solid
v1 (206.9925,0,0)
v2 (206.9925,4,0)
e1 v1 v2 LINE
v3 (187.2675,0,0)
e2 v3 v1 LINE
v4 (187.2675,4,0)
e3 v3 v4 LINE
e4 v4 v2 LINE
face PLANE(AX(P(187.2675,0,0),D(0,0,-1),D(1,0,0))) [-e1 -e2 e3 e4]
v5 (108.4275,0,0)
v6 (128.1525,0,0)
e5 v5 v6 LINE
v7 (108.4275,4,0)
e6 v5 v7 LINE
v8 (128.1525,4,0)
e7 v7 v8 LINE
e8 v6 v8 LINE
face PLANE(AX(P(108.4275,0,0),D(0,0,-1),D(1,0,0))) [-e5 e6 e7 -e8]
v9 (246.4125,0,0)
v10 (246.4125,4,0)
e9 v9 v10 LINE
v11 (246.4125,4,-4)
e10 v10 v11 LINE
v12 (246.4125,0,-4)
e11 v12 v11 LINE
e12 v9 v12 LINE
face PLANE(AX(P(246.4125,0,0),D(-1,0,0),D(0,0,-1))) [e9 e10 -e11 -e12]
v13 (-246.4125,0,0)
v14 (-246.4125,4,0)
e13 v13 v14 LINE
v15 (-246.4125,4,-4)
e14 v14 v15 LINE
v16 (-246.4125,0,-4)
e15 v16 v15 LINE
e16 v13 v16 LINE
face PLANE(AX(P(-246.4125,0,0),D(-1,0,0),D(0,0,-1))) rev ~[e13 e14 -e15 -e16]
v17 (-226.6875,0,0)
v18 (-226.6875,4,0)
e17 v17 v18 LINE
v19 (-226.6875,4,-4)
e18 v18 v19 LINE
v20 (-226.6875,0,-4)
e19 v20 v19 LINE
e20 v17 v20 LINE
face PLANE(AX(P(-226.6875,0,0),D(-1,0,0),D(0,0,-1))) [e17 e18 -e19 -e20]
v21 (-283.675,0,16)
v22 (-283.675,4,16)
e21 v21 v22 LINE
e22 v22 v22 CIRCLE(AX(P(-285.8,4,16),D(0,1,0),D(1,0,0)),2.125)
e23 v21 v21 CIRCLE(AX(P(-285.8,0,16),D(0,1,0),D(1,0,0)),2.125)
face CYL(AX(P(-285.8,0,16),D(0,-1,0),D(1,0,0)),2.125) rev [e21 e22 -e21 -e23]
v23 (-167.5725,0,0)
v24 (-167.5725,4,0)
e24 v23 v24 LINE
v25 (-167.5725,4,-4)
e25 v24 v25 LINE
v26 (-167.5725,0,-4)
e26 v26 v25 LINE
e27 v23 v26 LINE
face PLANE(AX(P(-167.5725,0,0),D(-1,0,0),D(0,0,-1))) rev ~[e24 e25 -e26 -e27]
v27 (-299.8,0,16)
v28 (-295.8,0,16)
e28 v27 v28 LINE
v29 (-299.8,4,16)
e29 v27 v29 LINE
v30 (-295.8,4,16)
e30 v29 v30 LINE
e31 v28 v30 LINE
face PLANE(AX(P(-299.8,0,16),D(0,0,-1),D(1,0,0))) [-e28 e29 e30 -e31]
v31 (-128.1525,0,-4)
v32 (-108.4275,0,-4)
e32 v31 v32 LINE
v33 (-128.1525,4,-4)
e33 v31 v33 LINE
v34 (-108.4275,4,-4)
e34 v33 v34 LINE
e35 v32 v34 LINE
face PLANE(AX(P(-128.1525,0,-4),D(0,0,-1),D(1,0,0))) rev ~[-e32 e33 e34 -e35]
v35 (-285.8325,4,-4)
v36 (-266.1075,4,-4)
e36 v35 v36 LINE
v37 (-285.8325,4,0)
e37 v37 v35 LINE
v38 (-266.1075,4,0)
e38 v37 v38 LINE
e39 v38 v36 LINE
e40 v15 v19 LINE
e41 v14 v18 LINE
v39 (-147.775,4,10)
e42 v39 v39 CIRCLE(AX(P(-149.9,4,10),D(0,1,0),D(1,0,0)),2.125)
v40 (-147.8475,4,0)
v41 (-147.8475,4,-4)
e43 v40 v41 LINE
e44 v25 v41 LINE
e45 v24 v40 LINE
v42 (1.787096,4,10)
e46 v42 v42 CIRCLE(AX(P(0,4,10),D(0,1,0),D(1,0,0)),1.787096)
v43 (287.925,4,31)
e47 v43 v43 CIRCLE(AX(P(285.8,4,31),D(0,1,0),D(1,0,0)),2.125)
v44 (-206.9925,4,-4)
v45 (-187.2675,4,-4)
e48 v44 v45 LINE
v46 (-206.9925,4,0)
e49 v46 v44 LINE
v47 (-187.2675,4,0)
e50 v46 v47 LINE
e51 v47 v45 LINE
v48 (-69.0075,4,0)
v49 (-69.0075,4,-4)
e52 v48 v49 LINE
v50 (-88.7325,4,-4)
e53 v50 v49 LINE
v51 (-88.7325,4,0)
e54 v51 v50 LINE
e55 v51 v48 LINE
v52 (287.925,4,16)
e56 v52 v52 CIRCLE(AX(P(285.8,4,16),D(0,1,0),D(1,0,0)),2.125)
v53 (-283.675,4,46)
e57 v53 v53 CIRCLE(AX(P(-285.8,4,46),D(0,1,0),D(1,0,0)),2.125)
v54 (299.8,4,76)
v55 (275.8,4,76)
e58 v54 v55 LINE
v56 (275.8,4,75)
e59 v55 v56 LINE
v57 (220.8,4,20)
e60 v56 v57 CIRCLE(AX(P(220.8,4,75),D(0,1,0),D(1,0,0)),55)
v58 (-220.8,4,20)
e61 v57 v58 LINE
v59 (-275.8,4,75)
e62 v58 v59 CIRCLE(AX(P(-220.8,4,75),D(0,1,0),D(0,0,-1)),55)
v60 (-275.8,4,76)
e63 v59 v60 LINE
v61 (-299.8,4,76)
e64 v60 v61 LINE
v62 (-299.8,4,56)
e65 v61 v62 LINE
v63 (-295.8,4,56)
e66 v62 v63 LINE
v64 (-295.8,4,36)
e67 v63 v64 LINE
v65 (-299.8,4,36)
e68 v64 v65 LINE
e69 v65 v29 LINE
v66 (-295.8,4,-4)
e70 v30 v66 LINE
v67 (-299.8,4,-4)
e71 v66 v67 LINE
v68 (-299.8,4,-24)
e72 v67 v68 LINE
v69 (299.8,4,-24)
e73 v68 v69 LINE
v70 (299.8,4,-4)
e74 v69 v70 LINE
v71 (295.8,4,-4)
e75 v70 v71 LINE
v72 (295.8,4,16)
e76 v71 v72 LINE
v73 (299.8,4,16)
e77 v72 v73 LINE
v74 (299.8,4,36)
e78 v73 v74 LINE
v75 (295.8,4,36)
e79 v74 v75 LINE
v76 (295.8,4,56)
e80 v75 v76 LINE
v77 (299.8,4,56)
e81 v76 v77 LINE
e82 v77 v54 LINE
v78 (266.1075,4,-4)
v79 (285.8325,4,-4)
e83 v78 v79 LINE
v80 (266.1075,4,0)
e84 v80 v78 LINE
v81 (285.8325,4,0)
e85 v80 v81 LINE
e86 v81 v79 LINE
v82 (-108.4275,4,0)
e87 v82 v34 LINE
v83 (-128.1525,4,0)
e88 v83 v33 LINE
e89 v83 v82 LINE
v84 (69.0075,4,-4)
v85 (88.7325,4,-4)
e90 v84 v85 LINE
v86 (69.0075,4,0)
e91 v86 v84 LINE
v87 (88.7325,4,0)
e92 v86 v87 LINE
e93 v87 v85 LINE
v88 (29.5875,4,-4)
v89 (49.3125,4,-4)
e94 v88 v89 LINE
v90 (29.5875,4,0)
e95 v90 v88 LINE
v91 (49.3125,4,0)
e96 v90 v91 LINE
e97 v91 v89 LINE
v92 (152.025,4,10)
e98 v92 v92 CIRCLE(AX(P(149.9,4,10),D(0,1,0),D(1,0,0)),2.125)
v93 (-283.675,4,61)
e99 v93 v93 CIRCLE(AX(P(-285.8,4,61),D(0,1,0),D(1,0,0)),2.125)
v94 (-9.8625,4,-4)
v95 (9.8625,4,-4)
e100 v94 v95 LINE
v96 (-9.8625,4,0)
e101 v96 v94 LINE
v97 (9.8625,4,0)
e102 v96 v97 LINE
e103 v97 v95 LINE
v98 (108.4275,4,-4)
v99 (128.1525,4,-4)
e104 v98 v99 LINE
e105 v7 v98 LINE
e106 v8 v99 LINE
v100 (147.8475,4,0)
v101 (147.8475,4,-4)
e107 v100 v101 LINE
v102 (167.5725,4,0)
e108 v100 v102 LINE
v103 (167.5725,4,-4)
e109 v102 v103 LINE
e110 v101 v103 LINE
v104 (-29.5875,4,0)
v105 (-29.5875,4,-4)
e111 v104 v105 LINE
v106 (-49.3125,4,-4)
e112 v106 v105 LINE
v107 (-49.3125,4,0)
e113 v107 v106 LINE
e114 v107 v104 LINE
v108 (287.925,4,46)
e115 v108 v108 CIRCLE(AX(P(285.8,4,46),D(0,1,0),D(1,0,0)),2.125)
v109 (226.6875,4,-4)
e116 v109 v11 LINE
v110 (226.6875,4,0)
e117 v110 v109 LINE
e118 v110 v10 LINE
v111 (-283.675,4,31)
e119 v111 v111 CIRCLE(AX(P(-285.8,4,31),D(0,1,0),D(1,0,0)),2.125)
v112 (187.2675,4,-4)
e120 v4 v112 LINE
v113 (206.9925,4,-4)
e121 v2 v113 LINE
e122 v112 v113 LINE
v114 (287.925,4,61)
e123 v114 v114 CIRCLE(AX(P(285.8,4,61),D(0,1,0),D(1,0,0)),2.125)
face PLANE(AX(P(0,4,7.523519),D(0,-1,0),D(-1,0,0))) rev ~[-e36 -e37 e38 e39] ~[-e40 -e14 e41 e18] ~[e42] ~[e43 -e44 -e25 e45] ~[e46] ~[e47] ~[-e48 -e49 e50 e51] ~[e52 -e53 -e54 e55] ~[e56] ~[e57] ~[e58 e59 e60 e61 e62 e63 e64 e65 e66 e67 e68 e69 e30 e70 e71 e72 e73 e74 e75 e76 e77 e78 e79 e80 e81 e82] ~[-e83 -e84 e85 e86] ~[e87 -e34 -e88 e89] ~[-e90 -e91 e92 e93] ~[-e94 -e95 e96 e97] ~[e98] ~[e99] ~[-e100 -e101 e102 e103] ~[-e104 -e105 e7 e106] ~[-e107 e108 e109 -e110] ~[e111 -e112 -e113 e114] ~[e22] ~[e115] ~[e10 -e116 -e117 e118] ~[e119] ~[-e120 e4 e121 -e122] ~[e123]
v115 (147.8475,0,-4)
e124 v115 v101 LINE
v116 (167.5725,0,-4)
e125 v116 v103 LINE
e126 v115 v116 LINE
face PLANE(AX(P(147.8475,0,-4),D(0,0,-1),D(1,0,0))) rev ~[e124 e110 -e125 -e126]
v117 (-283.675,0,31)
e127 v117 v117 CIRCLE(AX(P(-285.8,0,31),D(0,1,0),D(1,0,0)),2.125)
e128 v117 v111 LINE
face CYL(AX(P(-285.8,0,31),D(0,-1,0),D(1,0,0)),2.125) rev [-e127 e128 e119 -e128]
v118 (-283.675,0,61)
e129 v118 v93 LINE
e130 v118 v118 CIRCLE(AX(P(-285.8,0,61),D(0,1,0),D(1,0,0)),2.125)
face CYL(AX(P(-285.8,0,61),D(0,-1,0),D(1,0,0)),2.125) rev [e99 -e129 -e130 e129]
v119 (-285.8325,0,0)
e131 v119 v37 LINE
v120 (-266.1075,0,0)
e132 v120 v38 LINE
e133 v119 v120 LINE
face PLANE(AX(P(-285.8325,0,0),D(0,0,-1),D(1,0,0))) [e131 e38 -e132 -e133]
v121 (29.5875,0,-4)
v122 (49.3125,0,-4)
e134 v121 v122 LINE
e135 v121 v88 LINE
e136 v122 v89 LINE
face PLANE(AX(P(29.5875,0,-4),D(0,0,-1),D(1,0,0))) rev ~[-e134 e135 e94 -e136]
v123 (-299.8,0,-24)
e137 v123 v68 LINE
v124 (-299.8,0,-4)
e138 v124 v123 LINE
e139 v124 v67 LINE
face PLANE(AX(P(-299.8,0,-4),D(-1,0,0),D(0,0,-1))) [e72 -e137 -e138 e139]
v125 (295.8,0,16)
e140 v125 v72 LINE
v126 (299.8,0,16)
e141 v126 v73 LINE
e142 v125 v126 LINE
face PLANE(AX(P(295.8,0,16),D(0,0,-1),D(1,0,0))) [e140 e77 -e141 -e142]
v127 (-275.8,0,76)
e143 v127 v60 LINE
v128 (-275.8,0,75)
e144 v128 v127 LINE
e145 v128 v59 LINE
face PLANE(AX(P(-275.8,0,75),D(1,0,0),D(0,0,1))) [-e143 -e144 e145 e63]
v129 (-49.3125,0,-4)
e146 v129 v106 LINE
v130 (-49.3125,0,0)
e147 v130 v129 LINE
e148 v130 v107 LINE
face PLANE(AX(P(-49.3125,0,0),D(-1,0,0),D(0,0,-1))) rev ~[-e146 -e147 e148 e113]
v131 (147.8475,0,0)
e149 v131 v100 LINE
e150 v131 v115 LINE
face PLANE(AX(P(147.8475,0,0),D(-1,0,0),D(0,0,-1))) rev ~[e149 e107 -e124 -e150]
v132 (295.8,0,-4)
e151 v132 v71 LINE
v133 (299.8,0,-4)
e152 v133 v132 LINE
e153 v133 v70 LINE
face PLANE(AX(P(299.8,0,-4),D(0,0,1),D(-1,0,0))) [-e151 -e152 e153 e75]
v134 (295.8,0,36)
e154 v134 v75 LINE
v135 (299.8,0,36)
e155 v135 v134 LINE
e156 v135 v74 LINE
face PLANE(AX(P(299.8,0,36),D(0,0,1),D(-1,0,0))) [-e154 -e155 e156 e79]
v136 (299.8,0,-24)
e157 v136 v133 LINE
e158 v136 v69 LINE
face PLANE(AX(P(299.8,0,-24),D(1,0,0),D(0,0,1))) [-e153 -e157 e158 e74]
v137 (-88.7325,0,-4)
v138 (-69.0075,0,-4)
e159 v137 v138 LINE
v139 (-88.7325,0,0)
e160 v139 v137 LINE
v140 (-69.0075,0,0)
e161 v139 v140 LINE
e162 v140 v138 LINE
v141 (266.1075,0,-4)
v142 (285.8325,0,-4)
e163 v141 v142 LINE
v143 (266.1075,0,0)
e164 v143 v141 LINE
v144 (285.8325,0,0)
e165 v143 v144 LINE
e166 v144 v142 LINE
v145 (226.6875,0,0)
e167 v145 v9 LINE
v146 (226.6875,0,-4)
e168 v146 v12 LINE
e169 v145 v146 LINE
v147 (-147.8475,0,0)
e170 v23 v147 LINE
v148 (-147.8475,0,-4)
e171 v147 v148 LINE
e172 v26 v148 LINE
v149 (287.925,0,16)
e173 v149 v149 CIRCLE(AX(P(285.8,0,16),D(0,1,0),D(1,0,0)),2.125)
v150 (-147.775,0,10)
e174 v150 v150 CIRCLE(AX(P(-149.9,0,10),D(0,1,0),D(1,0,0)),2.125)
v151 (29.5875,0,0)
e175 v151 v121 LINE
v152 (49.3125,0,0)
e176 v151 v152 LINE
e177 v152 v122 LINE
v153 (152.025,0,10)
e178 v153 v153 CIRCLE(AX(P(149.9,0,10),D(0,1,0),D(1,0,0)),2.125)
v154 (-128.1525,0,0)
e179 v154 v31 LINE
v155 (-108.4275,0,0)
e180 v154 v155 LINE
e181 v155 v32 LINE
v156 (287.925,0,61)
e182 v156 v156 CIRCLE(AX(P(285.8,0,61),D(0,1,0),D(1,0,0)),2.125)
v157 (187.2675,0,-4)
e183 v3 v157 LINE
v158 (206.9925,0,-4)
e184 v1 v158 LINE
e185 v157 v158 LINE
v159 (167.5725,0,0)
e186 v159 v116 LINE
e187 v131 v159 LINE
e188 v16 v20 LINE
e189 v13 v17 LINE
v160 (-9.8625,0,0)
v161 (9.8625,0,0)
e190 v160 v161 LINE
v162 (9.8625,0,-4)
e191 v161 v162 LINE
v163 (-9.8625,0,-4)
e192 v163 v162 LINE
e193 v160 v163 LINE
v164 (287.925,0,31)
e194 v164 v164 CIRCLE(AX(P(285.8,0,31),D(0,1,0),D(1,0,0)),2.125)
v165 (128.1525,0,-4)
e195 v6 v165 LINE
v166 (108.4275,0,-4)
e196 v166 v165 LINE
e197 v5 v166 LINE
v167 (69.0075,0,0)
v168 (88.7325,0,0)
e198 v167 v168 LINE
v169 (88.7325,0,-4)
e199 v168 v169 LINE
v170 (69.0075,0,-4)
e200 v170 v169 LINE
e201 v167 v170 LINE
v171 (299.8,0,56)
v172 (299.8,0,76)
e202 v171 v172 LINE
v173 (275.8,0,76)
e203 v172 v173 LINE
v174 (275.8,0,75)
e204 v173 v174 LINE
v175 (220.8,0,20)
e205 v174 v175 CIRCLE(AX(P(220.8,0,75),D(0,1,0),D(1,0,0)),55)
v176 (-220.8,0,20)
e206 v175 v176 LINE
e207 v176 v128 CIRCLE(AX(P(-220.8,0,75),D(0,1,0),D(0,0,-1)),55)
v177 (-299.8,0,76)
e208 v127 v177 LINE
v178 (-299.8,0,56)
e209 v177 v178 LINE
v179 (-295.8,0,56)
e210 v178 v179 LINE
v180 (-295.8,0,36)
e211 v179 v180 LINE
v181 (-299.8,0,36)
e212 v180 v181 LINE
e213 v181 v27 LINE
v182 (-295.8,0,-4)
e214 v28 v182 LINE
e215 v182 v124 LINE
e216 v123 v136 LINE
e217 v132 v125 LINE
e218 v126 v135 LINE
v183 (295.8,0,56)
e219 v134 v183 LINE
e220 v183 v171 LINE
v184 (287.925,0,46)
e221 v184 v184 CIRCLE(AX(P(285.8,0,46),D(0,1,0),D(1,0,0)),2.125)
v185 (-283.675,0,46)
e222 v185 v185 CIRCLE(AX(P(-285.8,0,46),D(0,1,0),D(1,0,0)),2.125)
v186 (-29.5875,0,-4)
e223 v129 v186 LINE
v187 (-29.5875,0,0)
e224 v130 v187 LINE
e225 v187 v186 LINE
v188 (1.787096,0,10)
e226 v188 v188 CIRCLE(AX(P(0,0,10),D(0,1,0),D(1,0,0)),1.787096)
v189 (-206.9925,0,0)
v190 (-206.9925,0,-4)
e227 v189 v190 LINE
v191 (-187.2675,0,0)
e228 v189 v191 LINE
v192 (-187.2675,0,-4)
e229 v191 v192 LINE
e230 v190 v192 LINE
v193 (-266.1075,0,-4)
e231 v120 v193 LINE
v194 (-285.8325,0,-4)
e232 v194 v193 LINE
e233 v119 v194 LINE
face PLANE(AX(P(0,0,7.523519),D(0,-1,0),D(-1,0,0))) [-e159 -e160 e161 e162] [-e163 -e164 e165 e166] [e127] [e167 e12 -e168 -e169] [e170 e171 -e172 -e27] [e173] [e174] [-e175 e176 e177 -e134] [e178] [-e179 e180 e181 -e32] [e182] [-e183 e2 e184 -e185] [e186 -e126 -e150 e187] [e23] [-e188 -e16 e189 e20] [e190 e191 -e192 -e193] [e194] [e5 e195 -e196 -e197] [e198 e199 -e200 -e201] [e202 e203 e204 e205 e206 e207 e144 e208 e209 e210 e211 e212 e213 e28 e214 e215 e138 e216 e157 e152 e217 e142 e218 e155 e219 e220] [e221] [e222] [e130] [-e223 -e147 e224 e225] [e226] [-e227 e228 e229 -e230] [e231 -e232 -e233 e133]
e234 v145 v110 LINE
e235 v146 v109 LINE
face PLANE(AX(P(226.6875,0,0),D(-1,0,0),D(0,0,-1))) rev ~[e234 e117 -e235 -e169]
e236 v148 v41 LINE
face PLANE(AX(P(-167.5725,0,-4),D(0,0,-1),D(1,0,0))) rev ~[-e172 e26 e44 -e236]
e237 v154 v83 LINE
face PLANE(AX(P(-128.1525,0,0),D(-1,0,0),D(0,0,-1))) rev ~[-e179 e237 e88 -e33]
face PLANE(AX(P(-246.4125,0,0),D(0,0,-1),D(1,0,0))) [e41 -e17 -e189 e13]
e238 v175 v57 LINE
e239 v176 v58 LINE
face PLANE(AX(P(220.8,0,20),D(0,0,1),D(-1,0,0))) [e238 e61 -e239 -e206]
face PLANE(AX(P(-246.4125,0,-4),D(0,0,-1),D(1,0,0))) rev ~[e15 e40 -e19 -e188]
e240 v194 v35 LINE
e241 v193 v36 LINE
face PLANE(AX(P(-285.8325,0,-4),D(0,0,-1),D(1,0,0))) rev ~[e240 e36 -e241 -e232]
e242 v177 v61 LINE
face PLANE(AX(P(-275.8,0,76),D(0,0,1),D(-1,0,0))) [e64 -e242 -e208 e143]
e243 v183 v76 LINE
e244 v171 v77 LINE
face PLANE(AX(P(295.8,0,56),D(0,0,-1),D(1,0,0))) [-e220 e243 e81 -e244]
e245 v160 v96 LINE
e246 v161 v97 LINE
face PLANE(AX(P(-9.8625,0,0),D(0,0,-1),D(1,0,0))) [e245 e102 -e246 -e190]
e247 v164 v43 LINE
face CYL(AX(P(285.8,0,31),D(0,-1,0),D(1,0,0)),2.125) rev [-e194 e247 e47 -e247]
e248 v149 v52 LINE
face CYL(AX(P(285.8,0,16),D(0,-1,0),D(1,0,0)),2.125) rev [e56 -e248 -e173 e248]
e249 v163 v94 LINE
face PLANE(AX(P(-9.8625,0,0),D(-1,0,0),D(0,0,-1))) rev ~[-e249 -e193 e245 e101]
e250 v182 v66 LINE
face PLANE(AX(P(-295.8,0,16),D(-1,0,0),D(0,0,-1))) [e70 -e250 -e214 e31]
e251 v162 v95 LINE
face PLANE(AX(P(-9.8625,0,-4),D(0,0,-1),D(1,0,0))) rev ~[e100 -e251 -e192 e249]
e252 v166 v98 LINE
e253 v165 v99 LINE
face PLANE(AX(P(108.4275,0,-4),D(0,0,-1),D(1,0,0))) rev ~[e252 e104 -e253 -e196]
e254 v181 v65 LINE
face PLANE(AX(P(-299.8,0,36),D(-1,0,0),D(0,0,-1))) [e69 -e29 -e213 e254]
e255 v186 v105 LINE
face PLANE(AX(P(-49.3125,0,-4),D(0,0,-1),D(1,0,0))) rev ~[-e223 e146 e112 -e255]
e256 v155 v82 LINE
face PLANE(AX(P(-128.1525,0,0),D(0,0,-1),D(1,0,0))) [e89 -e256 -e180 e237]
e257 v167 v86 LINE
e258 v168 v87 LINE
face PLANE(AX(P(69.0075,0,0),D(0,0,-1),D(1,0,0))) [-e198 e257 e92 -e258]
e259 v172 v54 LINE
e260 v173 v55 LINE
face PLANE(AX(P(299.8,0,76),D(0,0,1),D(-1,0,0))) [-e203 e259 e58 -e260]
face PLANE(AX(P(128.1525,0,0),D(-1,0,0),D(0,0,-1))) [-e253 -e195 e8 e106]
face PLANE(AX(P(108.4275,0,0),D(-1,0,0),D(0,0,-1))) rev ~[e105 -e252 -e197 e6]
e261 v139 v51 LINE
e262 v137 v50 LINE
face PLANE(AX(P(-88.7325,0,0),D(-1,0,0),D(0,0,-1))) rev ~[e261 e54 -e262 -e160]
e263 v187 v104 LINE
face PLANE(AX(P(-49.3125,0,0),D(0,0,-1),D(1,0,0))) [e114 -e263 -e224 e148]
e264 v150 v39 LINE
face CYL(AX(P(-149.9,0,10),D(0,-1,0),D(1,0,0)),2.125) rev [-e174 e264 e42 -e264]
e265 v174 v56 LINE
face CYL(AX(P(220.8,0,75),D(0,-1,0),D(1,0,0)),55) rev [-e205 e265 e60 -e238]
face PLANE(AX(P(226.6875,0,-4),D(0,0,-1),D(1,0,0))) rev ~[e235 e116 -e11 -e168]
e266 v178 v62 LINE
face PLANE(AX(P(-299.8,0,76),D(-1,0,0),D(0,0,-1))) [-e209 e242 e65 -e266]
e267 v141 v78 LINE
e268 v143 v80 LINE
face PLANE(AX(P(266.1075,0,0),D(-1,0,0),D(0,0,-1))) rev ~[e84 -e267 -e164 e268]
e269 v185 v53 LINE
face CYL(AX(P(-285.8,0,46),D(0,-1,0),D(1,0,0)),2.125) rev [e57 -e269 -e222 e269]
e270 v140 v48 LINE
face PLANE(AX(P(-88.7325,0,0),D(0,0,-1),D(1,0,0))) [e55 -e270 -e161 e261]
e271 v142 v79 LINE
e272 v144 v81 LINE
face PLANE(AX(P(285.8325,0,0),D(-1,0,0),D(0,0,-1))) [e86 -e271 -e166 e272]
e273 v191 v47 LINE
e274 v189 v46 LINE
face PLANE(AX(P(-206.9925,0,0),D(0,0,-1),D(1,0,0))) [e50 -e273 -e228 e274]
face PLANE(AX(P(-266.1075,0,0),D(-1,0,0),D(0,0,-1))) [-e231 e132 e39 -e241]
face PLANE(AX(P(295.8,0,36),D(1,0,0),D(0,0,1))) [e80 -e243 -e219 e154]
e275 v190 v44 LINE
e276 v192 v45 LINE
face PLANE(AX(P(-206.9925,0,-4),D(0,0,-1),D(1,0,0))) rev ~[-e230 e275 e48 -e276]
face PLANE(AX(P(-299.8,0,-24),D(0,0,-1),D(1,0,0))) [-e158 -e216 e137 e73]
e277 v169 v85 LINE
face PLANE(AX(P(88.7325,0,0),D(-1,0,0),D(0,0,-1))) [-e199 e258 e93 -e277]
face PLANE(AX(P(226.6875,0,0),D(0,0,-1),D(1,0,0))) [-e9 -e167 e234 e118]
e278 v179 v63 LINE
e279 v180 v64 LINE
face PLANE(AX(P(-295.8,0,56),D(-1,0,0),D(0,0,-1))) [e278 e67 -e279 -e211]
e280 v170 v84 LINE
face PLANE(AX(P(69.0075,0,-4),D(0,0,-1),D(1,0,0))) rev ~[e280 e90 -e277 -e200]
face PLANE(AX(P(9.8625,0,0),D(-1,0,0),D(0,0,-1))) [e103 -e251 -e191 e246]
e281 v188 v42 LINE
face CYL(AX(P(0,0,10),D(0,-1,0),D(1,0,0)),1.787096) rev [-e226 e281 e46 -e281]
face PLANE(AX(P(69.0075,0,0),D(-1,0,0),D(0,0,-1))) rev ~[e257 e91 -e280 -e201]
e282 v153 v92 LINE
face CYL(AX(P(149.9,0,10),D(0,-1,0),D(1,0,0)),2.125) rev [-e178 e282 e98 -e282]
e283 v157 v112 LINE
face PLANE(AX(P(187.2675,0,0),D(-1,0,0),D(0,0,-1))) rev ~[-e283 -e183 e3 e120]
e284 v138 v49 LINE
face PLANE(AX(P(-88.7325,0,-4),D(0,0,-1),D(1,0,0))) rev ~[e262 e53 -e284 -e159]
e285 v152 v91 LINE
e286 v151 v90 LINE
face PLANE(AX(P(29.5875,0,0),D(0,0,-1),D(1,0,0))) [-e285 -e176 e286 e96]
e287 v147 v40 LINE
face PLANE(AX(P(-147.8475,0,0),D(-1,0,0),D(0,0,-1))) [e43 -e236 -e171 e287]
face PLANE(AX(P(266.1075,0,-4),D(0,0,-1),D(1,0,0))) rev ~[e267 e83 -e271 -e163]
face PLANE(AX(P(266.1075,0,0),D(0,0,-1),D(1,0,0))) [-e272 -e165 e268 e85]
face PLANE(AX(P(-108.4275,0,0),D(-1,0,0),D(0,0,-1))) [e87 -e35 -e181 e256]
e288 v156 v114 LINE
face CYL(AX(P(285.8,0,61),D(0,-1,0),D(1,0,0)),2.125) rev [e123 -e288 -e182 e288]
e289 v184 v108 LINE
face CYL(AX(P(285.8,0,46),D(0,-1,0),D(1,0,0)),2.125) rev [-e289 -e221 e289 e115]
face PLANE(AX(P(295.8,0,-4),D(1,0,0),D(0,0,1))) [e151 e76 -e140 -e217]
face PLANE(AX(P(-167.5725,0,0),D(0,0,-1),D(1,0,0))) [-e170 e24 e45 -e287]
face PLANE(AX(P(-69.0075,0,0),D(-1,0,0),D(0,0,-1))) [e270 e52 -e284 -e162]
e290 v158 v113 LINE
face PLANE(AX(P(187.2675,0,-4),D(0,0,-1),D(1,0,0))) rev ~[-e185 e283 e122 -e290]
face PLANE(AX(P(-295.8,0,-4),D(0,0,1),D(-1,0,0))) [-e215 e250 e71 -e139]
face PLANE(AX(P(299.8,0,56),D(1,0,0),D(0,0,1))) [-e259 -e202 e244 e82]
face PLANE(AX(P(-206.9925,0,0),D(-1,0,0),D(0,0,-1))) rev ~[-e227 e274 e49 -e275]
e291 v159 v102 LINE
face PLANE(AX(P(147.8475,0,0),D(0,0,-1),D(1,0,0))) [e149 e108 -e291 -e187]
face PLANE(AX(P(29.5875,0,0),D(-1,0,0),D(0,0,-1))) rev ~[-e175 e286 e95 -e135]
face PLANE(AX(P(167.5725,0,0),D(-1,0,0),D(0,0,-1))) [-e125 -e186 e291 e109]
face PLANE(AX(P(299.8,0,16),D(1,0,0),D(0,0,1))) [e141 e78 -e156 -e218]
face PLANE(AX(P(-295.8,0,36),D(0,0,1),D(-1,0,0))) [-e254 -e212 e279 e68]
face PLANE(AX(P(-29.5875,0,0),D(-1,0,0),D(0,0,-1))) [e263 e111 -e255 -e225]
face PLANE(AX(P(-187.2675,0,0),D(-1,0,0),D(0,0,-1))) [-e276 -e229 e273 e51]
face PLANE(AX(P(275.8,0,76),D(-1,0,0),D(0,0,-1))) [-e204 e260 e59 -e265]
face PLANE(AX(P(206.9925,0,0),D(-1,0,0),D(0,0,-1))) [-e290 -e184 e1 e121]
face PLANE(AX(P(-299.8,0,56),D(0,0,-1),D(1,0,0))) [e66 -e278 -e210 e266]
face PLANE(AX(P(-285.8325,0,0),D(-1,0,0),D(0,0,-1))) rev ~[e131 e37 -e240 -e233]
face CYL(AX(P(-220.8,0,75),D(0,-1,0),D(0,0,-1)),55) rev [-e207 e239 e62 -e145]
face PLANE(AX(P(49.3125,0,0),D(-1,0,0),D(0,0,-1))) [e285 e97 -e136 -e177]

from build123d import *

# Parameters (mm, degrees)
SKETCH1_R           = 2.125
SKETCH1_R_2         = 1.787095899
SKETCH1_W           = 19.725
SKETCH1_H           = 4
BOSS_EXTRUDE1_DEPTH = 4


with BuildPart() as part:
    # Sketch1 → Boss-Extrude1 (new body)
    with BuildSketch(Plane(origin=(0, 0, 0), x_dir=(1, 0, 0), z_dir=(0, 1, 0))):
        with BuildLine():
            Line((299.8, 24), (299.8, 4))
            Line((299.8, 4), (295.8, 4))
            Line((295.8, 4), (295.8, -16))
            Line((295.8, -16), (299.8, -16))
            Line((299.8, -16), (299.8, -36))
            Line((299.8, -36), (295.8, -36))
            Line((295.8, -36), (295.8, -56))
            Line((295.8, -56), (299.8, -56))
            Line((299.8, -56), (299.8, -76))
            Line((299.8, -76), (275.8, -76))
            Line((275.8, -76), (275.8, -75))
            ThreePointArc((275.8, -75), (259.690872965, -36.109127035), (220.8, -20))
            Line((220.8, -20), (-220.8, -20))
            ThreePointArc((-220.8, -20), (-259.690872965, -36.109127035), (-275.8, -75))
            Line((-275.8, -75), (-275.8, -76))
            Line((-275.8, -76), (-299.8, -76))
            Line((-299.8, -76), (-299.8, -56))
            Line((-299.8, -56), (-295.8, -56))
            Line((-295.8, -56), (-295.8, -36))
            Line((-295.8, -36), (-299.8, -36))
            Line((-299.8, -36), (-299.8, -16))
            Line((-299.8, -16), (-295.8, -16))
            Line((-295.8, -16), (-295.8, 4))
            Line((-295.8, 4), (-299.8, 4))
            Line((-299.8, 4), (-299.8, 24))
            Line((-299.8, 24), (299.8, 24))
        make_face()
        with Locations((285.8, -61)):
            Circle(SKETCH1_R, mode=Mode.SUBTRACT)
        with Locations((285.8, -46)):
            Circle(SKETCH1_R, mode=Mode.SUBTRACT)
        with Locations((-285.8, -46)):
            Circle(SKETCH1_R, mode=Mode.SUBTRACT)
        with Locations((-285.8, -61)):
            Circle(SKETCH1_R, mode=Mode.SUBTRACT)
        with Locations((285.8, -16)):
            Circle(SKETCH1_R, mode=Mode.SUBTRACT)
        with Locations((285.8, -31)):
            Circle(SKETCH1_R, mode=Mode.SUBTRACT)
        with Locations((-285.8, -31)):
            Circle(SKETCH1_R, mode=Mode.SUBTRACT)
        with Locations((-285.8, -16)):
            Circle(SKETCH1_R, mode=Mode.SUBTRACT)
        with Locations((-149.9, -10)):
            Circle(SKETCH1_R, mode=Mode.SUBTRACT)
        with Locations((149.9, -10)):
            Circle(SKETCH1_R, mode=Mode.SUBTRACT)
        with Locations((0, -10)):
            Circle(SKETCH1_R_2, mode=Mode.SUBTRACT)
        with Locations((0, 2)):
            Rectangle(SKETCH1_W, SKETCH1_H, mode=Mode.SUBTRACT)
        with Locations((39.45, 2)):
            Rectangle(SKETCH1_W, SKETCH1_H, mode=Mode.SUBTRACT)
        with Locations((78.87, 2)):
            Rectangle(SKETCH1_W, SKETCH1_H, mode=Mode.SUBTRACT)
        with Locations((118.29, 2)):
            Rectangle(SKETCH1_W, SKETCH1_H, mode=Mode.SUBTRACT)
        with Locations((157.71, 2)):
            Rectangle(SKETCH1_W, SKETCH1_H, mode=Mode.SUBTRACT)
        with Locations((197.13, 2)):
            Rectangle(SKETCH1_W, SKETCH1_H, mode=Mode.SUBTRACT)
        with Locations((236.55, 2)):
            Rectangle(SKETCH1_W, SKETCH1_H, mode=Mode.SUBTRACT)
        with Locations((275.97, 2)):
            Rectangle(SKETCH1_W, SKETCH1_H, mode=Mode.SUBTRACT)
        with Locations((-275.97, 2)):
            Rectangle(SKETCH1_W, SKETCH1_H, mode=Mode.SUBTRACT)
        with Locations((-236.55, 2)):
            Rectangle(SKETCH1_W, SKETCH1_H, mode=Mode.SUBTRACT)
        with Locations((-197.13, 2)):
            Rectangle(SKETCH1_W, SKETCH1_H, mode=Mode.SUBTRACT)
        with Locations((-157.71, 2)):
            Rectangle(SKETCH1_W, SKETCH1_H, mode=Mode.SUBTRACT)
        with Locations((-118.29, 2)):
            Rectangle(SKETCH1_W, SKETCH1_H, mode=Mode.SUBTRACT)
        with Locations((-78.87, 2)):
            Rectangle(SKETCH1_W, SKETCH1_H, mode=Mode.SUBTRACT)
        with Locations((-39.45, 2)):
            Rectangle(SKETCH1_W, SKETCH1_H, mode=Mode.SUBTRACT)
    extrude(amount=BOSS_EXTRUDE1_DEPTH)


solid = part.part
